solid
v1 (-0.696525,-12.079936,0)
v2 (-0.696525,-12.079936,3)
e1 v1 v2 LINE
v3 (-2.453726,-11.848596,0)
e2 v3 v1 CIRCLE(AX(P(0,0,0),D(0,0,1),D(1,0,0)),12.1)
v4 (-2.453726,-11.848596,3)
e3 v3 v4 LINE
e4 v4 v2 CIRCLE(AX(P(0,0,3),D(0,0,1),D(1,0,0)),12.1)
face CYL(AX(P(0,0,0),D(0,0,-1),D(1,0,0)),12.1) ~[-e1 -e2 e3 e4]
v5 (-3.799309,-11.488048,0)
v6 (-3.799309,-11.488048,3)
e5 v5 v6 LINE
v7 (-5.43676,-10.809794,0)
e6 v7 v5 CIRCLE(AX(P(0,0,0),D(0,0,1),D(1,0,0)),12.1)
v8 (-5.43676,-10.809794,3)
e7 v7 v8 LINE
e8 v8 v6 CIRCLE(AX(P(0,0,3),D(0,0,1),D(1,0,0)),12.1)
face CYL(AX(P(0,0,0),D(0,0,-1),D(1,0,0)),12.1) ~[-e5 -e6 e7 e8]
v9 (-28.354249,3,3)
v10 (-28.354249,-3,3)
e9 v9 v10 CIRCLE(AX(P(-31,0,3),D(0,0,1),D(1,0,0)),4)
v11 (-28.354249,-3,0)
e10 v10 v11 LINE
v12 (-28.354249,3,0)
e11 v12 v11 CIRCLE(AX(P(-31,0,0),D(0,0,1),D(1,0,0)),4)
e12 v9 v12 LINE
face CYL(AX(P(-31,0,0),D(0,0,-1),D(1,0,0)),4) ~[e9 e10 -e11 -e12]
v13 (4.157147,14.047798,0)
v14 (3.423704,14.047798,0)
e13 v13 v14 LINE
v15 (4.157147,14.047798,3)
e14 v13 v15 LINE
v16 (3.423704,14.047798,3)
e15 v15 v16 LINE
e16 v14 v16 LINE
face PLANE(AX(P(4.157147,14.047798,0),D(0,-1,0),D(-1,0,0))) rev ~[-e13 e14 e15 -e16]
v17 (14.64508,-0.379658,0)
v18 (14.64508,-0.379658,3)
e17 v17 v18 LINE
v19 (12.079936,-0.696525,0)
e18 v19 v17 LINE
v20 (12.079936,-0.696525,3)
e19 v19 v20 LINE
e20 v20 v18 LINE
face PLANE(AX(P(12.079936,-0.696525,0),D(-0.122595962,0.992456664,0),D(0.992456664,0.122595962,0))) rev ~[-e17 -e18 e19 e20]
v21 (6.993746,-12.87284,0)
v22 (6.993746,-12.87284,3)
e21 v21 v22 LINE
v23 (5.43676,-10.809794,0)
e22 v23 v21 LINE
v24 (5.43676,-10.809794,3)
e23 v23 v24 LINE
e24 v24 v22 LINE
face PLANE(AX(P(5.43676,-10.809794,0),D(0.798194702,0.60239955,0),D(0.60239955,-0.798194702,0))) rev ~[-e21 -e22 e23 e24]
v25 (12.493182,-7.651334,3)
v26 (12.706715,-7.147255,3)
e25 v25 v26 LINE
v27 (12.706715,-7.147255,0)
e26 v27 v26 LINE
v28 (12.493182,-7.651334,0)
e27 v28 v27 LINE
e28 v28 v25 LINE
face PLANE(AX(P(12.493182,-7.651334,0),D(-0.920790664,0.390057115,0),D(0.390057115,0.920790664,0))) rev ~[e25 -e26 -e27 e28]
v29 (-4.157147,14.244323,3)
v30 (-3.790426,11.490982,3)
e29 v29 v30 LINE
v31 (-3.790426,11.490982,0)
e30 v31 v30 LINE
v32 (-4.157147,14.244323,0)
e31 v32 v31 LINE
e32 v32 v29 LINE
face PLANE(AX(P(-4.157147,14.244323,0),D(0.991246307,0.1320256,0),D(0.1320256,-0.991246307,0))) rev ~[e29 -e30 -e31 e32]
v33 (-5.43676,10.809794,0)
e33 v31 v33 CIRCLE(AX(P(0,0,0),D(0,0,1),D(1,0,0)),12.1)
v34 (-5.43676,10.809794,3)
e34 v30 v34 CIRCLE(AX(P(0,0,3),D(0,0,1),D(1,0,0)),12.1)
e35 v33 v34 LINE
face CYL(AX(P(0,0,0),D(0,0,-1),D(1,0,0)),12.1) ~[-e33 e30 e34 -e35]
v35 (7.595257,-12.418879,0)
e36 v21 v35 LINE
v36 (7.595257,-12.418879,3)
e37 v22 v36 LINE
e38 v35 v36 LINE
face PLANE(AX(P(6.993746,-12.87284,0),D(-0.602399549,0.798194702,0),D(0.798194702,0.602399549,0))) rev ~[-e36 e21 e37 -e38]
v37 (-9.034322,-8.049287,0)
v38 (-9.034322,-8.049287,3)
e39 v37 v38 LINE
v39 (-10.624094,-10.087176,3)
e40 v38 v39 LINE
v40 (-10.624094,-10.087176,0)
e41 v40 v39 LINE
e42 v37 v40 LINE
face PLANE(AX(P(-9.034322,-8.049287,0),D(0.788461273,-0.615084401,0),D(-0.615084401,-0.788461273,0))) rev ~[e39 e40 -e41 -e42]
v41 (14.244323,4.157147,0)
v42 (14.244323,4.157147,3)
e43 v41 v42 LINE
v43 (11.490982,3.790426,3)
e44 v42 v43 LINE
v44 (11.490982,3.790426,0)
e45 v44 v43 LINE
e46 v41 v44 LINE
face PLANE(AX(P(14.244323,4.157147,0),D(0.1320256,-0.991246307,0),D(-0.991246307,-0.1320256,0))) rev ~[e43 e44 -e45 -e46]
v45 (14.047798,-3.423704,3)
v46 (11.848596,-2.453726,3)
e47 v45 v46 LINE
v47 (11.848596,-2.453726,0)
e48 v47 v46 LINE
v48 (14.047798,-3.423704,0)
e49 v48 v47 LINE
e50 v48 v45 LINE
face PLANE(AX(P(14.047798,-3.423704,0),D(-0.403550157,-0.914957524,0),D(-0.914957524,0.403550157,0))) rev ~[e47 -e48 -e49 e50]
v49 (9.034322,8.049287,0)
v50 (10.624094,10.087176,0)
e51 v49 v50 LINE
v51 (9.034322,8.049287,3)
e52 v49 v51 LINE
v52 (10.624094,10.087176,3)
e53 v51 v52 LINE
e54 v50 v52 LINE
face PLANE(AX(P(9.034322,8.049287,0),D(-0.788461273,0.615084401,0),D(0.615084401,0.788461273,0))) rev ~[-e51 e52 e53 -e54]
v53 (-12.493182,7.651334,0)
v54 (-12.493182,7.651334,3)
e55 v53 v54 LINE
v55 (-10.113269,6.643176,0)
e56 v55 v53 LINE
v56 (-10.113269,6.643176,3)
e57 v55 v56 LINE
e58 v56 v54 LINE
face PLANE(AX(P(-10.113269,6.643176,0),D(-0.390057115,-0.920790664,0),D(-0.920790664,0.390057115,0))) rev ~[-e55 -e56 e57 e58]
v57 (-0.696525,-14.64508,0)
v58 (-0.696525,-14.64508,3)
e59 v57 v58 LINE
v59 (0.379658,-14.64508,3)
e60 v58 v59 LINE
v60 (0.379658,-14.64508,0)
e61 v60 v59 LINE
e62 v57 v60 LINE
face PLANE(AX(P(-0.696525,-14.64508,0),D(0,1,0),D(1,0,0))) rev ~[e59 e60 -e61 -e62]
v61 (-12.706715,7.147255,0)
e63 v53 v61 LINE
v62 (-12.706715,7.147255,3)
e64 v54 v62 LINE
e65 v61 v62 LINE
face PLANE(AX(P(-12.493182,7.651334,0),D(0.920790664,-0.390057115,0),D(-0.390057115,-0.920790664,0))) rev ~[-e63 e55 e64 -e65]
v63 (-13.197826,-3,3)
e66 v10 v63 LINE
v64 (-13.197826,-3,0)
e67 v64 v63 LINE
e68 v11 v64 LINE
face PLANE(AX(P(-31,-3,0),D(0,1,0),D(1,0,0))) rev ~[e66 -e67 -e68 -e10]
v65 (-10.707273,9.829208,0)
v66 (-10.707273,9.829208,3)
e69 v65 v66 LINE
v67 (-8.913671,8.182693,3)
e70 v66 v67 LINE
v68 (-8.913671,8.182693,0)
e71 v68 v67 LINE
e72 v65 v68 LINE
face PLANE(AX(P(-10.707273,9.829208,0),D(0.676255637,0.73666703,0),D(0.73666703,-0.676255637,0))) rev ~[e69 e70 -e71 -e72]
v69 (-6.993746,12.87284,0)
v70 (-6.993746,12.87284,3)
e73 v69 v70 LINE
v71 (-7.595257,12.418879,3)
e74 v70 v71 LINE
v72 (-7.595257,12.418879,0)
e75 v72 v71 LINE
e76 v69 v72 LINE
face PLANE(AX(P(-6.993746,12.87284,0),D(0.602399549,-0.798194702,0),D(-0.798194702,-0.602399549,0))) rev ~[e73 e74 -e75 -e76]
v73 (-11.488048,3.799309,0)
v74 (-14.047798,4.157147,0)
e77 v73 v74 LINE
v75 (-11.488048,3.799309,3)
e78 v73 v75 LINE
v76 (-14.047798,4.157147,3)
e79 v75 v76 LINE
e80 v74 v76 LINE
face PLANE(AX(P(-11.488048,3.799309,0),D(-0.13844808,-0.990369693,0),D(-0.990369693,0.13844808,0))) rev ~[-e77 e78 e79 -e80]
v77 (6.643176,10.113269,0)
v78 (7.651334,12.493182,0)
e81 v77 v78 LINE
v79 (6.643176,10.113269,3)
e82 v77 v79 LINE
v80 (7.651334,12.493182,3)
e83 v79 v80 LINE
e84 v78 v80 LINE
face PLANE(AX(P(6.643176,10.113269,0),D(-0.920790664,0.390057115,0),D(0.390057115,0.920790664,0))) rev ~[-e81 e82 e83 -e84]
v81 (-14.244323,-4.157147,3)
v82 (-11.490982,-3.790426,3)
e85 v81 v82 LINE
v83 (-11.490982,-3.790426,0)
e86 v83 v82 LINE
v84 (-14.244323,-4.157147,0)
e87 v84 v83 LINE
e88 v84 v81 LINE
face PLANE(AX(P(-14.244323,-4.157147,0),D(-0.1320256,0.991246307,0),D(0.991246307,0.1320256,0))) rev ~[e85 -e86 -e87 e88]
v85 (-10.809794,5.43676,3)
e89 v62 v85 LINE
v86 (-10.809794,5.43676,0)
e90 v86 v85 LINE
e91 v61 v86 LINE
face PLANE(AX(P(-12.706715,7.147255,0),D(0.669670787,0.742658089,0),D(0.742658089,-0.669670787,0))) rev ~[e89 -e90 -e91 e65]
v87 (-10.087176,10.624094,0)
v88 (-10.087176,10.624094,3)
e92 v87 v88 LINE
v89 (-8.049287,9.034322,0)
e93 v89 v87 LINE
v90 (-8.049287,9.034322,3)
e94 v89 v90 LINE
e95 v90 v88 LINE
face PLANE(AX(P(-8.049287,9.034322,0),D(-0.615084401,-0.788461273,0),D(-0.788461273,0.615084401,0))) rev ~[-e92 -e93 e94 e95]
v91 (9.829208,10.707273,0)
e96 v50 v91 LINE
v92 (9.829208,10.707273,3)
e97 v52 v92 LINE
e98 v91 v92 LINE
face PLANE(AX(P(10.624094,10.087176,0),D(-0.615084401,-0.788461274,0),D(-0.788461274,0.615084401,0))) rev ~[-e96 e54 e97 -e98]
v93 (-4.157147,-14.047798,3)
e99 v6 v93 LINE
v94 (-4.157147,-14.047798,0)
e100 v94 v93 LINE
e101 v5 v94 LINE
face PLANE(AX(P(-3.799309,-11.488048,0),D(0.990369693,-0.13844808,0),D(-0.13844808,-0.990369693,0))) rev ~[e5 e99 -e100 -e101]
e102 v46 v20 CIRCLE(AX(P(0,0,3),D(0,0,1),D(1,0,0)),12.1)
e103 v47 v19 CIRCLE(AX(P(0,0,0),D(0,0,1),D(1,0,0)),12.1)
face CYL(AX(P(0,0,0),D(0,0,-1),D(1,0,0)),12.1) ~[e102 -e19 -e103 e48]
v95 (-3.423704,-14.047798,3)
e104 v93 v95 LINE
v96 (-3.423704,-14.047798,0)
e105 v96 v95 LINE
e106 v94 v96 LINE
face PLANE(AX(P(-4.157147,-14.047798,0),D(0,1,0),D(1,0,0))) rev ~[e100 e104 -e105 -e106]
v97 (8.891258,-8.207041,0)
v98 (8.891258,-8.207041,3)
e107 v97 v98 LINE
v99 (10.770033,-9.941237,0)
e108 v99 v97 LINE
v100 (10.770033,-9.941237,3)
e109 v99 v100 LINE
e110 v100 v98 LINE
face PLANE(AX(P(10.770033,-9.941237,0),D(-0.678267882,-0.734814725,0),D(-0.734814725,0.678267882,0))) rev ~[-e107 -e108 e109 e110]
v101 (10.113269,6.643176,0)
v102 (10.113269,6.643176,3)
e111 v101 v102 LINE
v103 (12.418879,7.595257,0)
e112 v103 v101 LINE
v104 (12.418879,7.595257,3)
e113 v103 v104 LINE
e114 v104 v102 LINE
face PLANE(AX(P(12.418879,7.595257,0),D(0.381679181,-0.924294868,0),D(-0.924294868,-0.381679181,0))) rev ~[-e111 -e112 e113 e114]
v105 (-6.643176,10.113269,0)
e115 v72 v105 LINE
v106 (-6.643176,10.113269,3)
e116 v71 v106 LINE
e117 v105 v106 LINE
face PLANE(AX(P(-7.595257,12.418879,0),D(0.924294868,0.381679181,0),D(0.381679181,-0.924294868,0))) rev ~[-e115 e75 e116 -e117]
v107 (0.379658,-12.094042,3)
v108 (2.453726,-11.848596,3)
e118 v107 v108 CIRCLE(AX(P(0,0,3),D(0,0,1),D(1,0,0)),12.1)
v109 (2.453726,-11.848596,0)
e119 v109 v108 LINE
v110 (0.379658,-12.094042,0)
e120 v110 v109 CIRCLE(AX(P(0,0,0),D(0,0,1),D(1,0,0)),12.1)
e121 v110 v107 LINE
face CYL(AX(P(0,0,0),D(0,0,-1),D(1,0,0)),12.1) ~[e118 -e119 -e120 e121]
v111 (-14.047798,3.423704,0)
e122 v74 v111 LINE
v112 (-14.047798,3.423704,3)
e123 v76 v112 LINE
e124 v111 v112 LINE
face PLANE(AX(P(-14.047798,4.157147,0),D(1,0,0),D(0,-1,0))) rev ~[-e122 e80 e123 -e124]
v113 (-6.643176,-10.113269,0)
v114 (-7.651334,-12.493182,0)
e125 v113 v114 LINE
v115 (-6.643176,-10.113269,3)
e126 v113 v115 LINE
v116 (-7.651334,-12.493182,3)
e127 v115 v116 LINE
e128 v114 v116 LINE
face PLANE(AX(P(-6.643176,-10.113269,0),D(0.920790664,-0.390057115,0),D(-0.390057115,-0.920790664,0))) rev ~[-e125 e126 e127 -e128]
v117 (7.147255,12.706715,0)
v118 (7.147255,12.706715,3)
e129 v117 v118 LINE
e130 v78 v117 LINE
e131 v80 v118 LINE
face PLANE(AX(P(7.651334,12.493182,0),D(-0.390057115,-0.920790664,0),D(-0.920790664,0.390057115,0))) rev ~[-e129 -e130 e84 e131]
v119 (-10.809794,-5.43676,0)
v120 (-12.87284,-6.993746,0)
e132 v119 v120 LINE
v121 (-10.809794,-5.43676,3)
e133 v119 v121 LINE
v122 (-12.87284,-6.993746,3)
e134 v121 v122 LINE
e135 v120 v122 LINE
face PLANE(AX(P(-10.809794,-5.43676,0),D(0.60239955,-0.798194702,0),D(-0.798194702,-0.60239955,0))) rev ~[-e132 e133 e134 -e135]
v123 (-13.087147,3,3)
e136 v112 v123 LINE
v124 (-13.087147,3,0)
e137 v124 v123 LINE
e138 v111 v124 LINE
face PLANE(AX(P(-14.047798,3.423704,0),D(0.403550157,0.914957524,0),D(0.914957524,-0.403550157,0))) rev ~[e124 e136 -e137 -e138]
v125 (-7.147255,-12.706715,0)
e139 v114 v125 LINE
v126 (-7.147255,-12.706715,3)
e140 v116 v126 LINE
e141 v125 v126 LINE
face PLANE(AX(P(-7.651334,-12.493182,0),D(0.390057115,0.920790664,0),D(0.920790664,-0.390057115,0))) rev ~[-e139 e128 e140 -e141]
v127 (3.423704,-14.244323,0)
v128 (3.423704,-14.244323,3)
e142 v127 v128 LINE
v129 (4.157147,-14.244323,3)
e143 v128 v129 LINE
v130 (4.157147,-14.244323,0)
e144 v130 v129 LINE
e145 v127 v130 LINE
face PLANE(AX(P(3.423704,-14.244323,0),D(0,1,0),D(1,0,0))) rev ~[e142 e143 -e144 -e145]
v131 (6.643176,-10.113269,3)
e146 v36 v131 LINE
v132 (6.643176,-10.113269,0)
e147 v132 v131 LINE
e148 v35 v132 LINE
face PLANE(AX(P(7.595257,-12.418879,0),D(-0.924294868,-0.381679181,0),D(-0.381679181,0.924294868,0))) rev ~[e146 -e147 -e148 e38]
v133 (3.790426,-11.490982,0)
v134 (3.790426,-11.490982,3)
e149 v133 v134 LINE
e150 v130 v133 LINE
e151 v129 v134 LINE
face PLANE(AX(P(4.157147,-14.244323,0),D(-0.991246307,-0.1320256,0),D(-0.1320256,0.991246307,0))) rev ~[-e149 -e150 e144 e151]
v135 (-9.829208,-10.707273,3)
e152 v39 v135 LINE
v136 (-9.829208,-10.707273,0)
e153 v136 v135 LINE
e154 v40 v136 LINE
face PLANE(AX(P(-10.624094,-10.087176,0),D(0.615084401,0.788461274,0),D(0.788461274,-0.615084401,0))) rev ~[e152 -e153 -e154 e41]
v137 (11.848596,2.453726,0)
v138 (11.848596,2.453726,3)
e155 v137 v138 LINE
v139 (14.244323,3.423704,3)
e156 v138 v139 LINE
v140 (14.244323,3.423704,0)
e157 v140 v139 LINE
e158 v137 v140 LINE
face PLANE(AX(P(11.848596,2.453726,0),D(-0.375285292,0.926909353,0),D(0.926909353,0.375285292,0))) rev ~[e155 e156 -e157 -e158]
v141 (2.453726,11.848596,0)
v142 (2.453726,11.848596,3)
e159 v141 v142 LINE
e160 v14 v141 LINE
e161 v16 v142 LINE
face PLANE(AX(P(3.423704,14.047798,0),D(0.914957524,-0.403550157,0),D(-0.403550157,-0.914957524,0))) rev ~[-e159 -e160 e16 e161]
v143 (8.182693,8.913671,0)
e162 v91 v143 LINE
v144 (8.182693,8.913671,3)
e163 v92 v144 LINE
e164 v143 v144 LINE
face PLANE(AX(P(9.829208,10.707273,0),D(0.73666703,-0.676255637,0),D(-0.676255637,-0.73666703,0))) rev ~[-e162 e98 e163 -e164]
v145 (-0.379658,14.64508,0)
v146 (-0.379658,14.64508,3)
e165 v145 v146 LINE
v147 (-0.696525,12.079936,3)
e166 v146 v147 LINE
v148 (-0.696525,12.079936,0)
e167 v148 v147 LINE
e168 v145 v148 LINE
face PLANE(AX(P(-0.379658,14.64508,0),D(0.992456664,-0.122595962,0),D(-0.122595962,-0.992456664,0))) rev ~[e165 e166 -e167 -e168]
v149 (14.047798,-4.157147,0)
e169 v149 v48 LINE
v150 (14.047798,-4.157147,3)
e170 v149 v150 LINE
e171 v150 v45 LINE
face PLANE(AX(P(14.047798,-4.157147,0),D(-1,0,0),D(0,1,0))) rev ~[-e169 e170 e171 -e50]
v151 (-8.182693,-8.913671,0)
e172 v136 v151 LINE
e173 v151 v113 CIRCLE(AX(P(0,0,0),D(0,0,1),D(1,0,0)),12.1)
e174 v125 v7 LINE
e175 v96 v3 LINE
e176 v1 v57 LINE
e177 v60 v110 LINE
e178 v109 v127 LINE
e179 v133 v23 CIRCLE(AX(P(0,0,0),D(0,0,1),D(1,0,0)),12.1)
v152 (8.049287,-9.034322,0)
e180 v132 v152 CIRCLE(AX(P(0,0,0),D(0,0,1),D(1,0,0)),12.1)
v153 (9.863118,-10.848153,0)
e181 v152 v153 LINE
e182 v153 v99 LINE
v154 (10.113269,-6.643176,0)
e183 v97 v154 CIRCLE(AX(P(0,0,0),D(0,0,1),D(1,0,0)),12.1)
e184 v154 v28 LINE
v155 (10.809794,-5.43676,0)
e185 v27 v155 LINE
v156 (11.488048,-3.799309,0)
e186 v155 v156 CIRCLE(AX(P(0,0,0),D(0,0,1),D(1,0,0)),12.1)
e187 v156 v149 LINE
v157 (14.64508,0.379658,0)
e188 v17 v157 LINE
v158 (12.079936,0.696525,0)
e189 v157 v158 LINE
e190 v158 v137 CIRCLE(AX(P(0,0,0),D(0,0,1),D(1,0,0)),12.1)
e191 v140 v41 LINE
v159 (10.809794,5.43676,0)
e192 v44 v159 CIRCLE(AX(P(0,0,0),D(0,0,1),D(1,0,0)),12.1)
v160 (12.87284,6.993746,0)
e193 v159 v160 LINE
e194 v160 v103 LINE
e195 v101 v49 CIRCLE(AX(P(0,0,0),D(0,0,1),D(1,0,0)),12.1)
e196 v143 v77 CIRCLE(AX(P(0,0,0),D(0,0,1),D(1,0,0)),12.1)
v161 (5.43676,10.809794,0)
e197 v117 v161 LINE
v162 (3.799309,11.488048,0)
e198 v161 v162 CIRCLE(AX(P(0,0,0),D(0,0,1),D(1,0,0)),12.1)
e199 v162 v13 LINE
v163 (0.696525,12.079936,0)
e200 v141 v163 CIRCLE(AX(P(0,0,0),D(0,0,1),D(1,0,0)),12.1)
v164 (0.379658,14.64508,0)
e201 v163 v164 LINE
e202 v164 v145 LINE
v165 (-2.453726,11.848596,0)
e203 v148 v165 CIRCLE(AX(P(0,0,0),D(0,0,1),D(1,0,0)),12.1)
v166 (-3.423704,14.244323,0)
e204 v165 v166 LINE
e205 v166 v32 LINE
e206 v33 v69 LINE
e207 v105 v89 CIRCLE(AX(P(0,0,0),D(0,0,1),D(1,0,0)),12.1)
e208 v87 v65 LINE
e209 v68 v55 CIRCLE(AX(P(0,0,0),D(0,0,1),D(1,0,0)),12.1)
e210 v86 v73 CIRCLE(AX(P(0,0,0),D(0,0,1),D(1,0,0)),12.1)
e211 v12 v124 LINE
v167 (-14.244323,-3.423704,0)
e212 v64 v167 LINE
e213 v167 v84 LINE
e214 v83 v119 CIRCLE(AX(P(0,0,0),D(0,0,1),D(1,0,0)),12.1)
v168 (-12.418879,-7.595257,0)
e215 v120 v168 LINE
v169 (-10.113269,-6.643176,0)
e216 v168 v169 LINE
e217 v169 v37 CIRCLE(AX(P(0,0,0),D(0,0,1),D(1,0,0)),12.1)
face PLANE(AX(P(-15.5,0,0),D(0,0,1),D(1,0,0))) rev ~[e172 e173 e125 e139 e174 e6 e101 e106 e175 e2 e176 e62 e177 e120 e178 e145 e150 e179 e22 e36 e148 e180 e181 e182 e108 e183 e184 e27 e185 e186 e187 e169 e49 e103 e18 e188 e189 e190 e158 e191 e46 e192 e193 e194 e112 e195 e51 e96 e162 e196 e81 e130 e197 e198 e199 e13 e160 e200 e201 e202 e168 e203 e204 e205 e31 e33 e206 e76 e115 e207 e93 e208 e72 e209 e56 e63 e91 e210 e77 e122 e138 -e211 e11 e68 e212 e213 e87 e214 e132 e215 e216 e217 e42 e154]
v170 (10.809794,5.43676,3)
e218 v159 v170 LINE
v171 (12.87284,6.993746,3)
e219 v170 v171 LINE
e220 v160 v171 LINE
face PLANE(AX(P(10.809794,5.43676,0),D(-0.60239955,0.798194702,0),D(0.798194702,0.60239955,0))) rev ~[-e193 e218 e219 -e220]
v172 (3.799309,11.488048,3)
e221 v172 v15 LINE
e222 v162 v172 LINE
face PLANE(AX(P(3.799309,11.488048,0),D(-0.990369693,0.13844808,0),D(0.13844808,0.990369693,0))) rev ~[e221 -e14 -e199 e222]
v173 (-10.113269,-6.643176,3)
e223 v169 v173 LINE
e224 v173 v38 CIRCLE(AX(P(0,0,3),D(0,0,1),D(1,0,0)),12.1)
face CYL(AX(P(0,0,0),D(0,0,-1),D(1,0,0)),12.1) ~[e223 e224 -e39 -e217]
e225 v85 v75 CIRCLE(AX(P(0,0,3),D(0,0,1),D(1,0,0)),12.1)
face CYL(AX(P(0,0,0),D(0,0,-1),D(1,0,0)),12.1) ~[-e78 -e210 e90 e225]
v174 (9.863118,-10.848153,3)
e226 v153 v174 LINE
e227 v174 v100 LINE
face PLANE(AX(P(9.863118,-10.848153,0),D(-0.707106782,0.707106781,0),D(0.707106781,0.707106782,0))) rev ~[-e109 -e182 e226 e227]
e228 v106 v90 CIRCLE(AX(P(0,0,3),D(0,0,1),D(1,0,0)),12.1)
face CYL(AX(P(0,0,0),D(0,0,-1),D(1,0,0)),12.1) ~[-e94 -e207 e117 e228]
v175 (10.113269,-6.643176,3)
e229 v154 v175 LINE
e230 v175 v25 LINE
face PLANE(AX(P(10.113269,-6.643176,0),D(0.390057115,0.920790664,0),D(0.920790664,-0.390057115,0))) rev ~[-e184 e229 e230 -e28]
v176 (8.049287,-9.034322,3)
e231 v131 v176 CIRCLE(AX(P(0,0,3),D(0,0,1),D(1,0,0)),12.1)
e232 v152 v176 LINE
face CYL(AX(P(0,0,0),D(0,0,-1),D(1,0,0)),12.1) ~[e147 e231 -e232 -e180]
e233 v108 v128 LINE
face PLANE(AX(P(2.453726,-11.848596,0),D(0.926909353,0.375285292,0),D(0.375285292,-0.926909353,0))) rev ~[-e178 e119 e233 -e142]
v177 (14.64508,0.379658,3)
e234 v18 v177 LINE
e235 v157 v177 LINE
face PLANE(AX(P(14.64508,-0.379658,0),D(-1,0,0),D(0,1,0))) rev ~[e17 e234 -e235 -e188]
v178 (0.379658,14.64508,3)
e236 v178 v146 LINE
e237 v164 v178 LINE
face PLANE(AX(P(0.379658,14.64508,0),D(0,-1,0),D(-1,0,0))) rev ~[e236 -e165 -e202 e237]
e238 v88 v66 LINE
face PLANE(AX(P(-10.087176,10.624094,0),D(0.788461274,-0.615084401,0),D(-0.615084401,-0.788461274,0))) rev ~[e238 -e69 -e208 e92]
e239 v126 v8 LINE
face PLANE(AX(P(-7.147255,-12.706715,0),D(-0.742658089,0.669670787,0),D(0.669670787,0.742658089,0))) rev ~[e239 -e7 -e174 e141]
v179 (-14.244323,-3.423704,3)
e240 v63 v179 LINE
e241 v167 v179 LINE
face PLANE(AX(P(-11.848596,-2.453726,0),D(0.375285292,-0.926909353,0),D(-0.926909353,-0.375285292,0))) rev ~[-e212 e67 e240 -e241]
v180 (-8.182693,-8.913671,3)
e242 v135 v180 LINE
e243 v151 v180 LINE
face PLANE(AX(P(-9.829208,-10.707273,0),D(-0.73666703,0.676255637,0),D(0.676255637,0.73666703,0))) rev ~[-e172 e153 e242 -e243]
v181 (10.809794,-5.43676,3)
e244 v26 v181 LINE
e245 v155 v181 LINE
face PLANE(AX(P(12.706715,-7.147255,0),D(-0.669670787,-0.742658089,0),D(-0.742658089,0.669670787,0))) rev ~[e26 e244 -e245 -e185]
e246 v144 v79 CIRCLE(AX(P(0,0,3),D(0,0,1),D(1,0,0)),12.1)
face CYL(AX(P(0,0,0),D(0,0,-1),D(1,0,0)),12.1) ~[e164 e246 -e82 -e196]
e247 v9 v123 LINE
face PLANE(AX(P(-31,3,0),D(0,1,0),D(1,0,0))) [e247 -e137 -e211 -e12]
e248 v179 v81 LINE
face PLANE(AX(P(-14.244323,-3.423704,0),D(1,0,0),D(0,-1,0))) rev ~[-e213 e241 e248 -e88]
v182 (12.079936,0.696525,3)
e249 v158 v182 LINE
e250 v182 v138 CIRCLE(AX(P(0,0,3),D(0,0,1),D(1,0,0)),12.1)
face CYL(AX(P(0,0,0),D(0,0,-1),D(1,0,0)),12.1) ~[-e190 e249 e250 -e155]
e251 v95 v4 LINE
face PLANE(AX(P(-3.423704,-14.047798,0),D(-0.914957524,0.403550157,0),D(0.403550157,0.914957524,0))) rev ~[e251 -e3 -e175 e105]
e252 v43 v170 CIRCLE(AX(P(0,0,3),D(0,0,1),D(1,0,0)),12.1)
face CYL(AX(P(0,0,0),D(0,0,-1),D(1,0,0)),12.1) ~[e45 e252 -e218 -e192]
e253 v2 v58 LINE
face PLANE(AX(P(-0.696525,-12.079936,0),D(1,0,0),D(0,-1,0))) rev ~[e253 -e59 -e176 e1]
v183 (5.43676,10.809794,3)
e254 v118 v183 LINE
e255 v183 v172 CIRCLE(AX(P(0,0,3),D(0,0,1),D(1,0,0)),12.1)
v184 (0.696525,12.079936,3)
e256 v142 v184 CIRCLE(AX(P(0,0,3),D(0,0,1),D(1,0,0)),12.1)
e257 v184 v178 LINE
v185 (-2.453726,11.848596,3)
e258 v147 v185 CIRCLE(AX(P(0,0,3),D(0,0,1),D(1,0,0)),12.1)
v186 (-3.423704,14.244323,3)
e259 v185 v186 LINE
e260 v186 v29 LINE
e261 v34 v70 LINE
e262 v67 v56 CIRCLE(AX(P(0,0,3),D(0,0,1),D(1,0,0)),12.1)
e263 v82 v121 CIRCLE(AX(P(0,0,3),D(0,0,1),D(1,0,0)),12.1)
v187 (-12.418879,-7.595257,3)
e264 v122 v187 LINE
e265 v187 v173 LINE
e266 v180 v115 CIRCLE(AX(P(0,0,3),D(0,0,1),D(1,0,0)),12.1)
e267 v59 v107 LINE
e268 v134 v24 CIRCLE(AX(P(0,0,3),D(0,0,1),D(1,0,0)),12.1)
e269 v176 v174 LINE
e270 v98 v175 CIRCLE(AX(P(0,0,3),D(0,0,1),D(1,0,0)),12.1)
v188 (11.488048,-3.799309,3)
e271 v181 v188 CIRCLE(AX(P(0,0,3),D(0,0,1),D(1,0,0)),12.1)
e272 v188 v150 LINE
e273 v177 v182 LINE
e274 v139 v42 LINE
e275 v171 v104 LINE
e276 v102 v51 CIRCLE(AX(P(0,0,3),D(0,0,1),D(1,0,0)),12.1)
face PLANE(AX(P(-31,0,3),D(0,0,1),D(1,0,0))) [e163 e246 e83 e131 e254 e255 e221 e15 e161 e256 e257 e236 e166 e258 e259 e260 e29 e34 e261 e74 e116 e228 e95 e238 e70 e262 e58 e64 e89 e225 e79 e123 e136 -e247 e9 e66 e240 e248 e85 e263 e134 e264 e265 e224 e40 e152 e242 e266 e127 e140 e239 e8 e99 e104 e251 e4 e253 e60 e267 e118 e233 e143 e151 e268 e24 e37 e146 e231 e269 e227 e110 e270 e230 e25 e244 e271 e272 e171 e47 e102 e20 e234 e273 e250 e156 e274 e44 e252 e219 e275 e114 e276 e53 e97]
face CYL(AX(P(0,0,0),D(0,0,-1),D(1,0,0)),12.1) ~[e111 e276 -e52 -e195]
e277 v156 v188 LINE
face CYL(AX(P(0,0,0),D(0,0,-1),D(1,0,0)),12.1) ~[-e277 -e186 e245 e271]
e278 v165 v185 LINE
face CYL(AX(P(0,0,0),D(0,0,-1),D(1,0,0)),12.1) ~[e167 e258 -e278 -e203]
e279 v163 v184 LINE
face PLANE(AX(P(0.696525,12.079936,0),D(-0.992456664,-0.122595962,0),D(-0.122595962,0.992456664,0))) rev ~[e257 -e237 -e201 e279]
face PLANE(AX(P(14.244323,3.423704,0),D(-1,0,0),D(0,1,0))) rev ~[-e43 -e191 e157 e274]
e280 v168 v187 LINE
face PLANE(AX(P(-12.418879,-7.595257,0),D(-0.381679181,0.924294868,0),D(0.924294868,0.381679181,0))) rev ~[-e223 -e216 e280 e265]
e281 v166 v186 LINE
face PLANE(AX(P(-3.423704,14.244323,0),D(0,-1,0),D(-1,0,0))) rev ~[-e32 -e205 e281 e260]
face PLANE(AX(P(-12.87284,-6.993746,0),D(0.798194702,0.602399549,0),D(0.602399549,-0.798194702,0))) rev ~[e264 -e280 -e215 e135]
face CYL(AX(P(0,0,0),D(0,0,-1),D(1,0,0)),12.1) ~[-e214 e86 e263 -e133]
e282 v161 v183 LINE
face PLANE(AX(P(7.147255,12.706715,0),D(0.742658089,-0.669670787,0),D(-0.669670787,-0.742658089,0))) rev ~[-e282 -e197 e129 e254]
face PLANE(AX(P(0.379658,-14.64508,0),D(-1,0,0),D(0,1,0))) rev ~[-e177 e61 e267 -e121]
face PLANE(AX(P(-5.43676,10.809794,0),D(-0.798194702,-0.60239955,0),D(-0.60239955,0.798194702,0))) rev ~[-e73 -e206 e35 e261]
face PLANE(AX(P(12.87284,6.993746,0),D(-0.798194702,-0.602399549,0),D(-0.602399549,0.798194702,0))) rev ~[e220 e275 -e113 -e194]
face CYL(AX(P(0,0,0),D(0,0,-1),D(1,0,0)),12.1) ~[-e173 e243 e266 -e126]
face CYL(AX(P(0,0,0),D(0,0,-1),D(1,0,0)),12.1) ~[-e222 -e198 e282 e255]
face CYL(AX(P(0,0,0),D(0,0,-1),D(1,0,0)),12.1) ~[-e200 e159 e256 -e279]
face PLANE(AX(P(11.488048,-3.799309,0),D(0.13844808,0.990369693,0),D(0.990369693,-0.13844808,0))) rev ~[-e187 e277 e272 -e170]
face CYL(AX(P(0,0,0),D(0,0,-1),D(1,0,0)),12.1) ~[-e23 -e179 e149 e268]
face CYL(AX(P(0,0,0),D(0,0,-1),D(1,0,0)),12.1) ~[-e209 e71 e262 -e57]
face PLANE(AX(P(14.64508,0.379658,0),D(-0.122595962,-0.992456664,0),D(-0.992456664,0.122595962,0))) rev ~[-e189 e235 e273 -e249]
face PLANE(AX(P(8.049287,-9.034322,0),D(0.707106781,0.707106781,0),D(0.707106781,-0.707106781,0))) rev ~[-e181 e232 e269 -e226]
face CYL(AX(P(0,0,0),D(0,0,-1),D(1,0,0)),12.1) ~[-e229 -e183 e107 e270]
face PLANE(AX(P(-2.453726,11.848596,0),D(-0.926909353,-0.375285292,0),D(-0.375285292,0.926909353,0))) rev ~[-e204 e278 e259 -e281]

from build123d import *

# Parameters (mm, degrees)
SKETCH1_R            = 12.1
BOSS_EXTRUDE1_DEPTH  = 3
BOSS_EXTRUDE2_DEPTH  = 3
BOSS_EXTRUDE3_DEPTH  = 3
BOSS_EXTRUDE4_DEPTH  = 3
BOSS_EXTRUDE5_DEPTH  = 3
BOSS_EXTRUDE6_DEPTH  = 3
BOSS_EXTRUDE7_DEPTH  = 3
BOSS_EXTRUDE8_DEPTH  = 3
BOSS_EXTRUDE9_DEPTH  = 3
BOSS_EXTRUDE10_DEPTH = 3
BOSS_EXTRUDE11_DEPTH = 3
BOSS_EXTRUDE12_DEPTH = 3
BOSS_EXTRUDE13_DEPTH = 3
BOSS_EXTRUDE14_DEPTH = 3
BOSS_EXTRUDE15_DEPTH = 3
BOSS_EXTRUDE16_DEPTH = 3
BOSS_EXTRUDE17_DEPTH = 3
BOSS_EXTRUDE18_DEPTH = 3
BOSS_EXTRUDE19_DEPTH = 3
BOSS_EXTRUDE20_DEPTH = 3
BOSS_EXTRUDE21_DEPTH = 3
BOSS_EXTRUDE22_DEPTH = 3
BOSS_EXTRUDE23_DEPTH = 3
BOSS_EXTRUDE24_DEPTH = 3
BOSS_EXTRUDE25_DEPTH = 3
SKETCH26_W           = 31
SKETCH26_H           = 6
BOSS_EXTRUDE26_DEPTH = 3
SKETCH27_R           = 4
BOSS_EXTRUDE27_DEPTH = 3


with BuildPart() as part:
    # Sketch1 → Boss-Extrude1 (new body)
    with BuildSketch(Plane.XY):
        Circle(SKETCH1_R)
    extrude(amount=BOSS_EXTRUDE1_DEPTH)

    # Sketch2 → Boss-Extrude2 (add)
    with BuildSketch(Plane.XY):
        Polygon((12.079935981, -0.696524726), (14.645079707, -0.379658233), (14.645079707, 0.379658233), (12.079935981, 0.696524726), align=None)
    extrude(amount=BOSS_EXTRUDE2_DEPTH)

    # Sketch3 → Boss-Extrude3 (add)
    with BuildSketch(Plane.XY):
        Polygon((11.848596009, 2.453726274), (14.244323498, 3.423703853), (14.244323498, 4.157147238), (11.490982299, 3.790425545), align=None)
    extrude(amount=BOSS_EXTRUDE3_DEPTH)

    # Sketch4 → Boss-Extrude4 (add)
    with BuildSketch(Plane.XY):
        Polygon((10.809793799, 5.436759883), (12.872840183, 6.993746179), (12.418878698, 7.595256676), (10.113269073, 6.643176098), align=None)
    extrude(amount=BOSS_EXTRUDE4_DEPTH)

    # Sketch5 → Boss-Extrude5 (add)
    with BuildSketch(Plane.XY):
        Polygon((9.034322006, 8.049287291), (10.624094083, 10.087176261), (9.829208044, 10.707272668), (8.182693208, 8.913671065), align=None)
    extrude(amount=BOSS_EXTRUDE5_DEPTH)

    # Sketch6 → Boss-Extrude6 (add)
    with BuildSketch(Plane.XY):
        Polygon((6.643176098, 10.113269073), (7.651333528, 12.49318195), (7.147254813, 12.706715272), (5.436759883, 10.809793799), align=None)
    extrude(amount=BOSS_EXTRUDE6_DEPTH)

    # Sketch7 → Boss-Extrude7 (add)
    with BuildSketch(Plane.XY):
        Polygon((3.799308717, 11.488048279), (4.157147238, 14.047797936), (3.423703853, 14.047797936), (2.453726274, 11.848596009), align=None)
    extrude(amount=BOSS_EXTRUDE7_DEPTH)

    # Sketch8 → Boss-Extrude8 (add)
    with BuildSketch(Plane.XY):
        Polygon((0.696524726, 12.079935981), (0.379658233, 14.645079707), (-0.379658233, 14.645079707), (-0.696524726, 12.079935981), align=None)
    extrude(amount=BOSS_EXTRUDE8_DEPTH)

    # Sketch9 → Boss-Extrude9 (add)
    with BuildSketch(Plane.XY):
        Polygon((-2.453726274, 11.848596009), (-3.423703853, 14.244323498), (-4.157147238, 14.244323498), (-3.790425545, 11.490982299), align=None)
    extrude(amount=BOSS_EXTRUDE9_DEPTH)

    # Sketch10 → Boss-Extrude10 (add)
    with BuildSketch(Plane.XY):
        Polygon((-5.436759883, 10.809793799), (-6.993746179, 12.872840183), (-7.595256676, 12.418878698), (-6.643176098, 10.113269073), align=None)
    extrude(amount=BOSS_EXTRUDE10_DEPTH)

    # Sketch11 → Boss-Extrude11 (add)
    with BuildSketch(Plane.XY):
        Polygon((-8.049287291, 9.034322006), (-10.087176261, 10.624094083), (-10.707272668, 9.829208044), (-8.913671065, 8.182693208), align=None)
    extrude(amount=BOSS_EXTRUDE11_DEPTH)

    # Sketch12 → Boss-Extrude12 (add)
    with BuildSketch(Plane.XY):
        Polygon((-10.113269073, 6.643176098), (-12.49318195, 7.651333528), (-12.706715272, 7.147254813), (-10.809793799, 5.436759883), align=None)
    extrude(amount=BOSS_EXTRUDE12_DEPTH)

    # Sketch13 → Boss-Extrude13 (add)
    with BuildSketch(Plane.XY):
        Polygon((-11.488048279, 3.799308717), (-14.047797936, 4.157147238), (-14.047797936, 3.423703853), (-11.848596009, 2.453726274), align=None)
    extrude(amount=BOSS_EXTRUDE13_DEPTH)

    # Sketch14 → Boss-Extrude14 (add)
    with BuildSketch(Plane.XY):
        Polygon((-12.079935981, 0.696524726), (-14.645079707, 0.379658233), (-14.645079707, -0.379658233), (-12.079935981, -0.696524726), align=None)
    extrude(amount=BOSS_EXTRUDE14_DEPTH)

    # Sketch15 → Boss-Extrude15 (add)
    with BuildSketch(Plane.XY):
        Polygon((-11.848596009, -2.453726274), (-14.244323498, -3.423703853), (-14.244323498, -4.157147238), (-11.490982299, -3.790425545), align=None)
    extrude(amount=BOSS_EXTRUDE15_DEPTH)

    # Sketch16 → Boss-Extrude16 (add)
    with BuildSketch(Plane.XY):
        Polygon((-10.809793799, -5.436759883), (-12.872840183, -6.993746179), (-12.418878698, -7.595256676), (-10.113269073, -6.643176098), align=None)
    extrude(amount=BOSS_EXTRUDE16_DEPTH)

    # Sketch17 → Boss-Extrude17 (add)
    with BuildSketch(Plane.XY):
        Polygon((-9.034322006, -8.049287291), (-10.624094083, -10.087176261), (-9.829208044, -10.707272668), (-8.182693208, -8.913671065), align=None)
    extrude(amount=BOSS_EXTRUDE17_DEPTH)

    # Sketch18 → Boss-Extrude18 (add)
    with BuildSketch(Plane.XY):
        Polygon((-6.643176098, -10.113269073), (-7.651333528, -12.49318195), (-7.147254813, -12.706715272), (-5.436759883, -10.809793799), align=None)
    extrude(amount=BOSS_EXTRUDE18_DEPTH)

    # Sketch19 → Boss-Extrude19 (add)
    with BuildSketch(Plane.XY):
        Polygon((-3.799308717, -11.488048279), (-4.157147238, -14.047797936), (-3.423703853, -14.047797936), (-2.453726274, -11.848596009), align=None)
    extrude(amount=BOSS_EXTRUDE19_DEPTH)

    # Sketch20 → Boss-Extrude20 (add)
    with BuildSketch(Plane.XY):
        Polygon((-0.696524726, -12.079935981), (-0.696524726, -14.645079707), (0.379658233, -14.645079707), (0.379658233, -12.09404232), align=None)
    extrude(amount=BOSS_EXTRUDE20_DEPTH)

    # Sketch21 → Boss-Extrude21 (add)
    with BuildSketch(Plane.XY):
        Polygon((2.453726274, -11.848596009), (3.423703853, -14.244323498), (4.157147238, -14.244323498), (3.790425545, -11.490982299), align=None)
    extrude(amount=BOSS_EXTRUDE21_DEPTH)

    # Sketch22 → Boss-Extrude22 (add)
    with BuildSketch(Plane.XY):
        Polygon((5.436759883, -10.809793799), (6.993746179, -12.872840183), (7.595256676, -12.418878698), (6.643176098, -10.113269073), align=None)
    extrude(amount=BOSS_EXTRUDE22_DEPTH)

    # Sketch23 → Boss-Extrude23 (add)
    with BuildSketch(Plane.XY):
        Polygon((8.049287291, -9.034322006), (9.863117815, -10.848152529), (10.770033076, -9.941237267), (8.89125817, -8.207041376), align=None)
    extrude(amount=BOSS_EXTRUDE23_DEPTH)

    # Sketch24 → Boss-Extrude24 (add)
    with BuildSketch(Plane.XY):
        Polygon((10.113269073, -6.643176098), (12.49318195, -7.651333528), (12.706715272, -7.147254813), (10.809793799, -5.436759883), align=None)
    extrude(amount=BOSS_EXTRUDE24_DEPTH)

    # Sketch25 → Boss-Extrude25 (add)
    with BuildSketch(Plane.XY):
        Polygon((11.488048279, -3.799308717), (14.047797936, -4.157147238), (14.047797936, -3.423703853), (11.848596009, -2.453726274), align=None)
    extrude(amount=BOSS_EXTRUDE25_DEPTH)

    # Sketch26 → Boss-Extrude26 (add)
    with BuildSketch(Plane.XY):
        with Locations((-15.5, 0)):
            Rectangle(SKETCH26_W, SKETCH26_H)
    extrude(amount=BOSS_EXTRUDE26_DEPTH)

    # Sketch27 → Boss-Extrude27 (add)
    with BuildSketch(Plane.XY):
        with Locations((-31, 0)):
            Circle(SKETCH27_R)
    extrude(amount=BOSS_EXTRUDE27_DEPTH)


solid = part.part
